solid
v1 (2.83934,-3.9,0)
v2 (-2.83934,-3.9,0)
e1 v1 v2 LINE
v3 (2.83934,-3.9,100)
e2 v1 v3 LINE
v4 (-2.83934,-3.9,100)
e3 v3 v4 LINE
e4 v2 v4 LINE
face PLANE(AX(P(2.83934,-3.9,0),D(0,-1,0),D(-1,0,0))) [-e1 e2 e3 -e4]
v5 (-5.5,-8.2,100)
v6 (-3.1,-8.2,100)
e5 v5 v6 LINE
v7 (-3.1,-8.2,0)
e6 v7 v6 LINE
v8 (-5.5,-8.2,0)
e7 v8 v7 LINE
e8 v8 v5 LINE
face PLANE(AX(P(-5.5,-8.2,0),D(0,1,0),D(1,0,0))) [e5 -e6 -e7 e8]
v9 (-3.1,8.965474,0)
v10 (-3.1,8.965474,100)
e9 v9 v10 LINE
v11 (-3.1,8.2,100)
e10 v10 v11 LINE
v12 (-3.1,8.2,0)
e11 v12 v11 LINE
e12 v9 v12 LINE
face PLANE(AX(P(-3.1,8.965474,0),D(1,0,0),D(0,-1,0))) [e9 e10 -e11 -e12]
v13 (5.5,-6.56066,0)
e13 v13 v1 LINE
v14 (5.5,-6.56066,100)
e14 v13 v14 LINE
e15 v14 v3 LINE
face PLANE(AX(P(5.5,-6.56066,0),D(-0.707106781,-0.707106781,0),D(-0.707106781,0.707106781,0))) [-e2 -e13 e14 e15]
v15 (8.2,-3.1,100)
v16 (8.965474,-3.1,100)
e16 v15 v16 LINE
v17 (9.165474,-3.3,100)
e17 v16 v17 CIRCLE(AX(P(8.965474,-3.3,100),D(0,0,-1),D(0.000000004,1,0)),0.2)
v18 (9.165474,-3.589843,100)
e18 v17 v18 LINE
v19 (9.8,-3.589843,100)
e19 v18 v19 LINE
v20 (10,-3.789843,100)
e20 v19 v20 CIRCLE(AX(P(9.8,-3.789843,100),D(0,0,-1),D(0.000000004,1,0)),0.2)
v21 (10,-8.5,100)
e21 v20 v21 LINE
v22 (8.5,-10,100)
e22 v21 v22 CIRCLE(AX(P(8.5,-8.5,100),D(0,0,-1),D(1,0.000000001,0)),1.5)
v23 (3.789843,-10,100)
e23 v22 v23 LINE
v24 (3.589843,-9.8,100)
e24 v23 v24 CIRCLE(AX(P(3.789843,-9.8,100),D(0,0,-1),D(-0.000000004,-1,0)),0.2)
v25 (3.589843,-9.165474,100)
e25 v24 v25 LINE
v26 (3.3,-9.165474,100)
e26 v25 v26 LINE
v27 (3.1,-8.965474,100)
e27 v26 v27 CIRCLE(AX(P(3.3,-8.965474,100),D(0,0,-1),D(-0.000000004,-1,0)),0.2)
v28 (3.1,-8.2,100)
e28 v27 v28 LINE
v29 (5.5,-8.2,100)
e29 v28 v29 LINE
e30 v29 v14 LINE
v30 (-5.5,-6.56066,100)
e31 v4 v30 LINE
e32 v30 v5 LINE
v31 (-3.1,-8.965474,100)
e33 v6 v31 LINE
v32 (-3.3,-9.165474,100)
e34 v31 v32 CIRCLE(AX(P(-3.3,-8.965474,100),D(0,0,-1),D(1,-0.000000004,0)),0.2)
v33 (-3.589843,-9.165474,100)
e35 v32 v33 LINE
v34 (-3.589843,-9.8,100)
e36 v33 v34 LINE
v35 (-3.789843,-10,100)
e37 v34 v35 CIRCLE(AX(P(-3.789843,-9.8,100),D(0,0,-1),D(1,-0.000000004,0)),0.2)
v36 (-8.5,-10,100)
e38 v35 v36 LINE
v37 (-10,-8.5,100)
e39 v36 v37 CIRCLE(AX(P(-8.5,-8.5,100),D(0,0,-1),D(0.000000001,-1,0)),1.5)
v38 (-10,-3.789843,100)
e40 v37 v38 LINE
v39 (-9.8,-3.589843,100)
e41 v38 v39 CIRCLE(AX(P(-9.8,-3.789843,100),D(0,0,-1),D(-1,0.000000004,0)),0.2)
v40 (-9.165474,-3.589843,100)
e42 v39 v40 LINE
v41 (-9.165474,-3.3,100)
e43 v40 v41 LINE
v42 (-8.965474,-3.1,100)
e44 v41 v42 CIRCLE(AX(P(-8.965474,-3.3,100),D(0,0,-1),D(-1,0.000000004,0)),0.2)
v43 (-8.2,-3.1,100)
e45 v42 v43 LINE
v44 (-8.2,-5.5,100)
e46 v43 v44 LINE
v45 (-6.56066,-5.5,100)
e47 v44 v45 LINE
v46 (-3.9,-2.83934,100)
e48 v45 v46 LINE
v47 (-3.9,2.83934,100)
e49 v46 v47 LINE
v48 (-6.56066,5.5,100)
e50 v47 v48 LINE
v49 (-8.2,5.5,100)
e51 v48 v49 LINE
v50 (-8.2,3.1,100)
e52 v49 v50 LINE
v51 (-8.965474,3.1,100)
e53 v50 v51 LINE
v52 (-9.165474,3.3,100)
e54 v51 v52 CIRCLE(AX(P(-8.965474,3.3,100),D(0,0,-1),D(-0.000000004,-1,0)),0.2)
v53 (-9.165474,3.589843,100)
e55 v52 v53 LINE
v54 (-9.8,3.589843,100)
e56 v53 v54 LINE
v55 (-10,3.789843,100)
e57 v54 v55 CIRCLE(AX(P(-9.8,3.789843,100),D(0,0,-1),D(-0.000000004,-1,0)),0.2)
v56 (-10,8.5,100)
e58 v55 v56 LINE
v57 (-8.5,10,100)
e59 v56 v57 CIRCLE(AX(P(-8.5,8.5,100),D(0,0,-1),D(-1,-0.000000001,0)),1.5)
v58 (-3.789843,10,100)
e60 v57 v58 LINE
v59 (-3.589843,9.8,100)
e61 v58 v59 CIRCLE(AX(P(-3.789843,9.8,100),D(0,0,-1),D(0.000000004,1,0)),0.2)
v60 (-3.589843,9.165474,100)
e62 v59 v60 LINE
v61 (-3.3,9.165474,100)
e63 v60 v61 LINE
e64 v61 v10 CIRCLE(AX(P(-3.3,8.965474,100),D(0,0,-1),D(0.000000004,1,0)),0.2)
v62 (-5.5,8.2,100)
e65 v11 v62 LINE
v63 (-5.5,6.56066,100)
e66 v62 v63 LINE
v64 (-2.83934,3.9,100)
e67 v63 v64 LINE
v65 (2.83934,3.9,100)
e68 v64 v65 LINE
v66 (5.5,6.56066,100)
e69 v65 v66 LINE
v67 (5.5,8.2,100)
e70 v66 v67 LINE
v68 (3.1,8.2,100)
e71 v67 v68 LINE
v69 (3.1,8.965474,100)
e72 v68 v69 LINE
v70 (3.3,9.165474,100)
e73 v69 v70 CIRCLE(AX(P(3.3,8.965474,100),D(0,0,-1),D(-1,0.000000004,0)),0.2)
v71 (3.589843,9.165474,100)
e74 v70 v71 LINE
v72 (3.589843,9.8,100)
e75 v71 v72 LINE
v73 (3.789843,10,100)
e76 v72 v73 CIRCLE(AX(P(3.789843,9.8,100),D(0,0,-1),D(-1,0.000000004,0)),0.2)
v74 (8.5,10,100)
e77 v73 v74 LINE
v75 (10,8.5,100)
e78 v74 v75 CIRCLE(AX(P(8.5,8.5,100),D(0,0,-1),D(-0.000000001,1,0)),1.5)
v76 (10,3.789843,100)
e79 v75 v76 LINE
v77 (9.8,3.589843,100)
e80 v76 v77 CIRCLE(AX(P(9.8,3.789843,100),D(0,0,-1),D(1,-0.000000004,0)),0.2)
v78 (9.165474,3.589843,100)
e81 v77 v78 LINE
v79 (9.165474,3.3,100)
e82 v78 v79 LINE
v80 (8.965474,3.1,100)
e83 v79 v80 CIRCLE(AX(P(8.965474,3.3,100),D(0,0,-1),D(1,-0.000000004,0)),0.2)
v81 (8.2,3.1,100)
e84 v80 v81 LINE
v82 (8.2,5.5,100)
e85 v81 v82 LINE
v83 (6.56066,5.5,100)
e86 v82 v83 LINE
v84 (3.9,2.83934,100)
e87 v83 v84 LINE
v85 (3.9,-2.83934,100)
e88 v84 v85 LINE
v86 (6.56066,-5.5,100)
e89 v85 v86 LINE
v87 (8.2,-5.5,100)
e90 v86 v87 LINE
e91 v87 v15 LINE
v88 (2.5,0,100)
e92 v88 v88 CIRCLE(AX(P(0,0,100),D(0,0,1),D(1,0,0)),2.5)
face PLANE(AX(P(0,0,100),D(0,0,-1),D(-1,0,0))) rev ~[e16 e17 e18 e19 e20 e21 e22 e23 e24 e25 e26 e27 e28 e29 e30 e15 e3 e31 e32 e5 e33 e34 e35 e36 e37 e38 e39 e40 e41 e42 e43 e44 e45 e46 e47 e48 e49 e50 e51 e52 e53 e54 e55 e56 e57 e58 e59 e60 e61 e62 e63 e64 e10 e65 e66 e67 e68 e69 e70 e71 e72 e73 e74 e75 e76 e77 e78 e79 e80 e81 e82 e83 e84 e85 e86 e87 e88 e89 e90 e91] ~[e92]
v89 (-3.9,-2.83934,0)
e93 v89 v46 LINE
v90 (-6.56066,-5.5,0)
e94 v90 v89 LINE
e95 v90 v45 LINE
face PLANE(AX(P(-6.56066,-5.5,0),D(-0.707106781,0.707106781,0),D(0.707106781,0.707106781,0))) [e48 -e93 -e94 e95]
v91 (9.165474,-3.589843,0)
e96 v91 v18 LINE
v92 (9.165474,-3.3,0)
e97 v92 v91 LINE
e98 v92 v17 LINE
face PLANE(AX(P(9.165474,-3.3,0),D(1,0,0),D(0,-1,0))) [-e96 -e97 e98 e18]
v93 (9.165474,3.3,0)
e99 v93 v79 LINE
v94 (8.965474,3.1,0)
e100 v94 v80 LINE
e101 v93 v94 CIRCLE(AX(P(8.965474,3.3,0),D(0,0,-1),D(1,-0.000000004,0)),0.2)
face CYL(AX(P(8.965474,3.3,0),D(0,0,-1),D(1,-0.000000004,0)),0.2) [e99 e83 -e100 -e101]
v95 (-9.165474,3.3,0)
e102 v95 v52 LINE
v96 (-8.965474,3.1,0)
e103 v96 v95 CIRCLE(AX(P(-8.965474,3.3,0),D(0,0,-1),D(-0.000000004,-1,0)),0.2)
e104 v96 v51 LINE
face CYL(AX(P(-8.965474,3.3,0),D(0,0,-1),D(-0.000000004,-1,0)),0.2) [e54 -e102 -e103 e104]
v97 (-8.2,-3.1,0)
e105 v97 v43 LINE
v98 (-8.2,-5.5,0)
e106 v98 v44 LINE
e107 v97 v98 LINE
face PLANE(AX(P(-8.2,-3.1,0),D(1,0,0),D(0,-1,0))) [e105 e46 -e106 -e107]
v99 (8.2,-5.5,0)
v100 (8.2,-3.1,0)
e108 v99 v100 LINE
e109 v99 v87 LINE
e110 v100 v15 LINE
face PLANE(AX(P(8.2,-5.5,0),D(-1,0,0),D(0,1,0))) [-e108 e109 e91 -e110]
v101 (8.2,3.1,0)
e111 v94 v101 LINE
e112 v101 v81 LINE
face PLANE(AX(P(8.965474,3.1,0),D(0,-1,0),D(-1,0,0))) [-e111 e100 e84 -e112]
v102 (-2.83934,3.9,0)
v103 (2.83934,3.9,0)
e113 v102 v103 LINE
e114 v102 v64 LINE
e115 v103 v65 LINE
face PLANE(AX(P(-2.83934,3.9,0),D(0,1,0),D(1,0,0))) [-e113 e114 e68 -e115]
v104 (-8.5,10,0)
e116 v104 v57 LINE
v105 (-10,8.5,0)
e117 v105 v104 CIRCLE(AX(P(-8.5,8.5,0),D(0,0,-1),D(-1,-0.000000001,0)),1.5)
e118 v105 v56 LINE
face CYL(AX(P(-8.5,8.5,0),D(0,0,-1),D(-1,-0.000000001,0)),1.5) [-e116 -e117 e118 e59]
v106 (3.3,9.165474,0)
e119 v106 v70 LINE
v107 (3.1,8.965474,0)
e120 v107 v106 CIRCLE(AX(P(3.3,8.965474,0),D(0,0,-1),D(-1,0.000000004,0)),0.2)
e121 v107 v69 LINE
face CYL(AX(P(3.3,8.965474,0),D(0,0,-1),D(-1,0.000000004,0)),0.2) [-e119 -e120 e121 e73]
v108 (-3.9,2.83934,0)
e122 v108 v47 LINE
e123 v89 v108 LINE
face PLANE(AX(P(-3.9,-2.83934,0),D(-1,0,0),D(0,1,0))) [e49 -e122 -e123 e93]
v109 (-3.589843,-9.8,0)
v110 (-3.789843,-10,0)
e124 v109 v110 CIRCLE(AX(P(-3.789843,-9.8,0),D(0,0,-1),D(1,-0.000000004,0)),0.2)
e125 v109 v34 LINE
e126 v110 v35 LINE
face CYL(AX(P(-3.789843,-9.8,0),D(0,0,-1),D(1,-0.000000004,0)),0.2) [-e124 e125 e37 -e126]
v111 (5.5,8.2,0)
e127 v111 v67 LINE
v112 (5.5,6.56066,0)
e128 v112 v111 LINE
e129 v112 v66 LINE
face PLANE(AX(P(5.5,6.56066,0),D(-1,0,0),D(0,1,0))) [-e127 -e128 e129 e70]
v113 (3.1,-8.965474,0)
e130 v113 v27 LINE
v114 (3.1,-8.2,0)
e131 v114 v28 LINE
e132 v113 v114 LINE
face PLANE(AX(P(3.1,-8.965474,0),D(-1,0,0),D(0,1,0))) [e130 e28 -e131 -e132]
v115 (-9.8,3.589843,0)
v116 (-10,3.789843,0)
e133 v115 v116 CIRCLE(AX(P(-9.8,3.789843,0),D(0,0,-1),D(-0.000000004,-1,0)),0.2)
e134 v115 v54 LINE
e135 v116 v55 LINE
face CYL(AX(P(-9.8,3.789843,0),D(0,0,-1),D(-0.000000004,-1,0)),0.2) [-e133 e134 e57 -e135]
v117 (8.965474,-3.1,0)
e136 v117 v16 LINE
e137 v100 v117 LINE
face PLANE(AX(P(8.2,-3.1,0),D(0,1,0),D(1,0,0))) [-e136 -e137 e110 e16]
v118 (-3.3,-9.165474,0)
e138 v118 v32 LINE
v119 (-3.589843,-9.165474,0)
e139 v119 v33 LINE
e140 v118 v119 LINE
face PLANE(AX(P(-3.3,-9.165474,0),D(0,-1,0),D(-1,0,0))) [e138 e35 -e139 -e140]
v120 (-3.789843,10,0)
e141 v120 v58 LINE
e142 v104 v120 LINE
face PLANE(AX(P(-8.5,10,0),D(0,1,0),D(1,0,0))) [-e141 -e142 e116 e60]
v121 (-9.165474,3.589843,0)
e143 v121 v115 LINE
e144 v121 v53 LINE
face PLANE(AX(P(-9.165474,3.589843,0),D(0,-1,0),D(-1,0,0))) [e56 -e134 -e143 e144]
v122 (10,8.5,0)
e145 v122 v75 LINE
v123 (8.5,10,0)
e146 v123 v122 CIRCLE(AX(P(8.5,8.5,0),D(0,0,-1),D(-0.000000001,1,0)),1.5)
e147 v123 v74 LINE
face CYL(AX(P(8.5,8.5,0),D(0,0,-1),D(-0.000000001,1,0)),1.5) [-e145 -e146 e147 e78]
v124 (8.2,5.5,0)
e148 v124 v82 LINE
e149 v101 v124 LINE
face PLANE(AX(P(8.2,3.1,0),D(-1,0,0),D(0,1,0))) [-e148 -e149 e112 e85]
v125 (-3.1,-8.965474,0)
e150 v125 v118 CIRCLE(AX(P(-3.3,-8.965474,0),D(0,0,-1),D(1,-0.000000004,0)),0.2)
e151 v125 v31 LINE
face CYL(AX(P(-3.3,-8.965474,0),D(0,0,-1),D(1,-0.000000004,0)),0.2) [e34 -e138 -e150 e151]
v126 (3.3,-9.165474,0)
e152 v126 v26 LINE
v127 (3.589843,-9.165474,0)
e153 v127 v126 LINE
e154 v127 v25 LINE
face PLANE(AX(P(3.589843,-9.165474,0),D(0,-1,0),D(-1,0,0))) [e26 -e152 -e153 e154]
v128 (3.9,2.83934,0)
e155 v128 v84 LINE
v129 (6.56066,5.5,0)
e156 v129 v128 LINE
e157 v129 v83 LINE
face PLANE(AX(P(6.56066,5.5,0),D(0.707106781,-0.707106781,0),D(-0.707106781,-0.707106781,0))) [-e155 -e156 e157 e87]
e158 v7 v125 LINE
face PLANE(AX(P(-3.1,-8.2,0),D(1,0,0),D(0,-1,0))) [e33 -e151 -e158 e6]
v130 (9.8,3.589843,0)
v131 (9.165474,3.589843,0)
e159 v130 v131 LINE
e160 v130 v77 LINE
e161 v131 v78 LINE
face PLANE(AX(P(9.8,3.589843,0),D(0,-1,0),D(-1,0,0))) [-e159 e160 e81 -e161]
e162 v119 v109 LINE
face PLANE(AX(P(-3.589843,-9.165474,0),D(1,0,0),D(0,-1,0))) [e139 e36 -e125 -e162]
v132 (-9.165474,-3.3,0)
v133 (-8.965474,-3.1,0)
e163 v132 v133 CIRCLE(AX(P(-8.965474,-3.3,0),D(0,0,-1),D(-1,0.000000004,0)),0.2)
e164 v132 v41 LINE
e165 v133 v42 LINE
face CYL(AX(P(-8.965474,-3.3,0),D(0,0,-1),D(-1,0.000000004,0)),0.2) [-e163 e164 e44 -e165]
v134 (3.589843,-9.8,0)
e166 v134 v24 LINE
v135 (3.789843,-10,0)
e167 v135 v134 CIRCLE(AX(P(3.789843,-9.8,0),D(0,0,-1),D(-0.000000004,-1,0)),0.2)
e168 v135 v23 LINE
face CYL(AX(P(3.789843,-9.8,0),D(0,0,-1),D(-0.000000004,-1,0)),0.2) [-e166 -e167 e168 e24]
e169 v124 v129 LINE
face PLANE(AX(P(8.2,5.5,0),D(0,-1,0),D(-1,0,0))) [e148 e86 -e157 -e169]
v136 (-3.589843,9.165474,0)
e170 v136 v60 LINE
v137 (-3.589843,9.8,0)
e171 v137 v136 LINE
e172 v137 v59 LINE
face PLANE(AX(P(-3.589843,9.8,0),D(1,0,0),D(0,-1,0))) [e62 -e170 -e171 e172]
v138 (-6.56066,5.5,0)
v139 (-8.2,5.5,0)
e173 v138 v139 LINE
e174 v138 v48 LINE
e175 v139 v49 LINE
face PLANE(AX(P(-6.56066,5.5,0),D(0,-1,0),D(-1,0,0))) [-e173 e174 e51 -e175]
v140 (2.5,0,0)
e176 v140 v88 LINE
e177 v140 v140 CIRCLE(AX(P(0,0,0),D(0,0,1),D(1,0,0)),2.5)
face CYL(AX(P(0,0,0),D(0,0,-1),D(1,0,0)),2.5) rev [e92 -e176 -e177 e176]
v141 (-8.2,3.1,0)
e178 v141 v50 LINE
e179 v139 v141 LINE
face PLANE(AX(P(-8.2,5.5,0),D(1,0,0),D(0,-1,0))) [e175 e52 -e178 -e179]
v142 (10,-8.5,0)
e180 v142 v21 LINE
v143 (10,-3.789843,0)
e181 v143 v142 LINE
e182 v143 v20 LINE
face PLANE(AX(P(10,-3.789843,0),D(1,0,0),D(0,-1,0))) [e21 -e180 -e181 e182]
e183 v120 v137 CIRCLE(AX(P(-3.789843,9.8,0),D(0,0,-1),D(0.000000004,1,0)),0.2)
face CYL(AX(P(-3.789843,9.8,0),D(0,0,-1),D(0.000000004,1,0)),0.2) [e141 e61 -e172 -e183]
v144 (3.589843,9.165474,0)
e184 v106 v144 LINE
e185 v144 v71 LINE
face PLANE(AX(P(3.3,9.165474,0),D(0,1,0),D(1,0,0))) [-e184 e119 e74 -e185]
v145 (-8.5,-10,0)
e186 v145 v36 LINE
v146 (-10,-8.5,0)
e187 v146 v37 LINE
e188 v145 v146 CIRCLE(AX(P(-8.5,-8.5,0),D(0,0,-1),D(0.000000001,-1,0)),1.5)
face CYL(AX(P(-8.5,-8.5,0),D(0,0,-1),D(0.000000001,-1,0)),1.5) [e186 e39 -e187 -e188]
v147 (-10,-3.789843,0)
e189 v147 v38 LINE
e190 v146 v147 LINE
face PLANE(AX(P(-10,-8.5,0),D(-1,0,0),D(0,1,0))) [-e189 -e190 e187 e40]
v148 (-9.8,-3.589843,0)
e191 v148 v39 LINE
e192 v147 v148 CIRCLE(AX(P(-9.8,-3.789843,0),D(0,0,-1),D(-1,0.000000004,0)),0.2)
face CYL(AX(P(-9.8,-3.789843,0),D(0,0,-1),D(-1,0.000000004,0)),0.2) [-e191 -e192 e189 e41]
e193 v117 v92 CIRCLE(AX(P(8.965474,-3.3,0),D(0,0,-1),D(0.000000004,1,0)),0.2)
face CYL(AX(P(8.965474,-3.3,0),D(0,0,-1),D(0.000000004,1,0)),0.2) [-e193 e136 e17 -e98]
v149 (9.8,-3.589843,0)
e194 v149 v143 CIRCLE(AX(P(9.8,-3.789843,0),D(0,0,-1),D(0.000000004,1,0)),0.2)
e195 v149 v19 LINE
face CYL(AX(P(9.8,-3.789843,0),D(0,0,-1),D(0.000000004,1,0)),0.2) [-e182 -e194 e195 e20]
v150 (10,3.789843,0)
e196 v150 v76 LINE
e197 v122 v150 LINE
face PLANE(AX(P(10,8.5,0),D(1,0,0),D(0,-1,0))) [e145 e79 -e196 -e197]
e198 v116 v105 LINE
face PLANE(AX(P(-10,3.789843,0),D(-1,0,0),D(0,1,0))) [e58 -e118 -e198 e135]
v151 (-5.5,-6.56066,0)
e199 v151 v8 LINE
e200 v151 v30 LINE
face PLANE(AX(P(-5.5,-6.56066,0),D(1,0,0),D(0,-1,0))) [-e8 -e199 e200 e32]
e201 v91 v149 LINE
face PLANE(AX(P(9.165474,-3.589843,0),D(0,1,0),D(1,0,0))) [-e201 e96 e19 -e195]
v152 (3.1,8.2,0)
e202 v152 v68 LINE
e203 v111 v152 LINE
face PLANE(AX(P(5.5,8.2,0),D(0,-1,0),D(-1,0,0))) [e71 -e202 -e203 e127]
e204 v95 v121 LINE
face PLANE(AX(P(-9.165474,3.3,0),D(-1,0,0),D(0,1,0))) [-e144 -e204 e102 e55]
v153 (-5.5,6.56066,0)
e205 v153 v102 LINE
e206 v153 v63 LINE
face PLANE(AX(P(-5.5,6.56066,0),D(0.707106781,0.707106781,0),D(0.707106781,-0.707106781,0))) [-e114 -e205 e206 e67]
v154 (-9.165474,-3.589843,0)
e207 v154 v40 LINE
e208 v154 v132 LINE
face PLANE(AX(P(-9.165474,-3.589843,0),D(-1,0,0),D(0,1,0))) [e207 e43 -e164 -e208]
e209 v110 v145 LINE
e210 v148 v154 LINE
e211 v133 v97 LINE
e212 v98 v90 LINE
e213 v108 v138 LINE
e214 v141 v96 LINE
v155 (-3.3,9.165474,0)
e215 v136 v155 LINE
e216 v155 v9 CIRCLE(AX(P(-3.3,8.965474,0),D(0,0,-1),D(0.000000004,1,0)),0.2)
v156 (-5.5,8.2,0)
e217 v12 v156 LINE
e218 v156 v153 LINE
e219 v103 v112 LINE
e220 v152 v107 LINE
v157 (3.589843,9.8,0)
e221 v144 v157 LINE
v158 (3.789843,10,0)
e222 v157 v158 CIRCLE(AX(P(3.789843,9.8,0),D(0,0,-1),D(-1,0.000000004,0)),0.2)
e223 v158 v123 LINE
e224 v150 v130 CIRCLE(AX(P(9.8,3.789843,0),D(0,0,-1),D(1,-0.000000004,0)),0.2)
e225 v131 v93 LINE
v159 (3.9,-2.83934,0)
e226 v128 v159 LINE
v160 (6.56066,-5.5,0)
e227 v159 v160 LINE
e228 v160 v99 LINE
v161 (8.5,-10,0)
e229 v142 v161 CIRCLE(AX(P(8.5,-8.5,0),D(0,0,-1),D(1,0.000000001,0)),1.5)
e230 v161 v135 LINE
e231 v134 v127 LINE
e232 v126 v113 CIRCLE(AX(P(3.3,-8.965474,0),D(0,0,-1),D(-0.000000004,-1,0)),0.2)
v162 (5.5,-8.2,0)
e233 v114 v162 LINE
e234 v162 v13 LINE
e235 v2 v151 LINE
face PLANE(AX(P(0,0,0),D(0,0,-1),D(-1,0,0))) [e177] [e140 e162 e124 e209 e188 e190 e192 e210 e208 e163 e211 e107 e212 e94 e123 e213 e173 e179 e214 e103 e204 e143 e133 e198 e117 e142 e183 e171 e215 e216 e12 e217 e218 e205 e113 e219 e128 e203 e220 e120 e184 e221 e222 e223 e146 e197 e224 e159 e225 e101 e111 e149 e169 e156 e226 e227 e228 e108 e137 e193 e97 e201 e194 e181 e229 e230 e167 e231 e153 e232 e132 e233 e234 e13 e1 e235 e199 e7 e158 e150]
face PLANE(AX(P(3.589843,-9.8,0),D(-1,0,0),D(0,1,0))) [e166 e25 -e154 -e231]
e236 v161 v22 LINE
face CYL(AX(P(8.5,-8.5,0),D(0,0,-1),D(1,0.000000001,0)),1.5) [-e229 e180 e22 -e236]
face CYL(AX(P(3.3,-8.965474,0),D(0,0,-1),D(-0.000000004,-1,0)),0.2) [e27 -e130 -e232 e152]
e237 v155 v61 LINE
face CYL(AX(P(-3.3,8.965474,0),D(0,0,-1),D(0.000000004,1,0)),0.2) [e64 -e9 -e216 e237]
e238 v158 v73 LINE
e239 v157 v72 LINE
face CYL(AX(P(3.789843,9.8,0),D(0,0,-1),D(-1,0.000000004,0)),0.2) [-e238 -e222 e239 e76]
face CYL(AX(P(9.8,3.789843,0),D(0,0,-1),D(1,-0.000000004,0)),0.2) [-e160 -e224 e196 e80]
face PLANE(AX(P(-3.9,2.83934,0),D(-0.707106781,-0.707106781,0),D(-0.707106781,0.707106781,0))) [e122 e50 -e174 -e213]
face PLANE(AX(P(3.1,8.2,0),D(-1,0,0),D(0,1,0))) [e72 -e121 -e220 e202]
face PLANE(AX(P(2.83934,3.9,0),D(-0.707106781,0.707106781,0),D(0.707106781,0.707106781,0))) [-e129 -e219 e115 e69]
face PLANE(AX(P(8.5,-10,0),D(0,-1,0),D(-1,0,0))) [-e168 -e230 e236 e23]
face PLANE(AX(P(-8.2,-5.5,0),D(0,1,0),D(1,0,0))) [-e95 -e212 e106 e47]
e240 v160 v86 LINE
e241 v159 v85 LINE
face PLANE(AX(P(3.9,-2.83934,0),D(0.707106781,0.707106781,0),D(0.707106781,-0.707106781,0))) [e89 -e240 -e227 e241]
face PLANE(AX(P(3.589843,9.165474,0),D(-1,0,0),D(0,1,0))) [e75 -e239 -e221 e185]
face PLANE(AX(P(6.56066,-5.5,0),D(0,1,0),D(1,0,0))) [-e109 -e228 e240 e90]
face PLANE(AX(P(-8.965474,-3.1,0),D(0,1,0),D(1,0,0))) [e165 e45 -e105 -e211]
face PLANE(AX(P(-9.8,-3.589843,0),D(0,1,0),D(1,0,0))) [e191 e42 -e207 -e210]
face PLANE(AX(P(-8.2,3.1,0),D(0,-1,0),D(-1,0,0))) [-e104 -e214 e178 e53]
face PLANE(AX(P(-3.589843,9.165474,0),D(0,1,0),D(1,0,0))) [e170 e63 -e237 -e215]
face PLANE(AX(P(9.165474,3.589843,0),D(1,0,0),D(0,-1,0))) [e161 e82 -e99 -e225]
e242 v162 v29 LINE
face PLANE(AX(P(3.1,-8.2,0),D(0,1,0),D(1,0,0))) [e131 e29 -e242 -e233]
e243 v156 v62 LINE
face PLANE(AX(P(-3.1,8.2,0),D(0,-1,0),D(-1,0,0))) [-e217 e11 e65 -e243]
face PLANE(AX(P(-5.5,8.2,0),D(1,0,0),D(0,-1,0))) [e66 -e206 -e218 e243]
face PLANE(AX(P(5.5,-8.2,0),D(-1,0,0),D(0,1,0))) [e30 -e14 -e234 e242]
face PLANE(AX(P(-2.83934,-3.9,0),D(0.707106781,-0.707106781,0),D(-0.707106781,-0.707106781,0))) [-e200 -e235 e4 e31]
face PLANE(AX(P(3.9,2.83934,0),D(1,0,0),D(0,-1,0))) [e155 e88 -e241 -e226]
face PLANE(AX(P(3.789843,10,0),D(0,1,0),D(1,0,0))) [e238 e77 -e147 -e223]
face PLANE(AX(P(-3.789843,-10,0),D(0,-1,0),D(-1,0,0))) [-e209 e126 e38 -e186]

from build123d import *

# Parameters (mm, degrees)
SKETCH_1_R      = 2.5
EXTRUDE_1_DEPTH = 100


with BuildPart() as part:
    # 草图1 → 凸台-拉伸1 (new body)
    with BuildSketch(Plane.XY):
        with BuildLine():
            Line((2.839339828, 3.9), (5.5, 6.560660172))
            Line((5.5, 6.560660172), (5.5, 8.2))
            Line((5.5, 8.2), (3.1, 8.2))
            Line((3.1, 8.2), (3.1, 8.965473865))
            ThreePointArc((3.1, 8.965473865), (3.158578644, 9.106895221), (3.3, 9.165473865))
            Line((3.3, 9.165473865), (3.589843476, 9.165473865))
            Line((3.589843476, 9.165473865), (3.589843476, 9.8))
            ThreePointArc((3.589843476, 9.8), (3.64842212, 9.941421356), (3.789843476, 10))
            Line((3.789843476, 10), (8.5, 10))
            ThreePointArc((8.5, 10), (9.560660172, 9.560660172), (10, 8.5))
            Line((10, 8.5), (10, 3.789843476))
            ThreePointArc((10, 3.789843476), (9.941421356, 3.64842212), (9.8, 3.589843476))
            Line((9.8, 3.589843476), (9.165473865, 3.589843476))
            Line((9.165473865, 3.589843476), (9.165473865, 3.3))
            ThreePointArc((9.165473865, 3.3), (9.106895221, 3.158578644), (8.965473865, 3.1))
            Line((8.965473865, 3.1), (8.2, 3.1))
            Line((8.2, 3.1), (8.2, 5.5))
            Line((8.2, 5.5), (6.560660172, 5.5))
            Line((6.560660172, 5.5), (3.9, 2.839339828))
            Line((3.9, 2.839339828), (3.9, -2.839339828))
            Line((3.9, -2.839339828), (6.560660172, -5.5))
            Line((6.560660172, -5.5), (8.2, -5.5))
            Line((8.2, -5.5), (8.2, -3.1))
            Line((8.2, -3.1), (8.965473865, -3.1))
            ThreePointArc((8.965473865, -3.1), (9.106895221, -3.158578644), (9.165473865, -3.3))
            Line((9.165473865, -3.3), (9.165473865, -3.589843476))
            Line((9.165473865, -3.589843476), (9.8, -3.589843476))
            ThreePointArc((9.8, -3.589843476), (9.941421356, -3.64842212), (10, -3.789843476))
            Line((10, -3.789843476), (10, -8.5))
            ThreePointArc((10, -8.5), (9.560660172, -9.560660172), (8.5, -10))
            Line((8.5, -10), (3.789843476, -10))
            ThreePointArc((3.789843476, -10), (3.64842212, -9.941421356), (3.589843476, -9.8))
            Line((3.589843476, -9.8), (3.589843476, -9.165473865))
            Line((3.589843476, -9.165473865), (3.3, -9.165473865))
            ThreePointArc((3.3, -9.165473865), (3.158578644, -9.106895221), (3.1, -8.965473865))
            Line((3.1, -8.965473865), (3.1, -8.2))
            Line((3.1, -8.2), (5.5, -8.2))
            Line((5.5, -8.2), (5.5, -6.560660172))
            Line((5.5, -6.560660172), (2.839339828, -3.9))
            Line((2.839339828, -3.9), (-2.839339828, -3.9))
            Line((-2.839339828, -3.9), (-5.5, -6.560660172))
            Line((-5.5, -6.560660172), (-5.5, -8.2))
            Line((-5.5, -8.2), (-3.1, -8.2))
            Line((-3.1, -8.2), (-3.1, -8.965473865))
            ThreePointArc((-3.1, -8.965473865), (-3.158578644, -9.106895221), (-3.3, -9.165473865))
            Line((-3.3, -9.165473865), (-3.589843476, -9.165473865))
            Line((-3.589843476, -9.165473865), (-3.589843476, -9.8))
            ThreePointArc((-3.589843476, -9.8), (-3.64842212, -9.941421356), (-3.789843476, -10))
            Line((-3.789843476, -10), (-8.5, -10))
            ThreePointArc((-8.5, -10), (-9.560660172, -9.560660172), (-10, -8.5))
            Line((-10, -8.5), (-10, -3.789843476))
            ThreePointArc((-10, -3.789843476), (-9.941421356, -3.64842212), (-9.8, -3.589843476))
            Line((-9.8, -3.589843476), (-9.165473865, -3.589843476))
            Line((-9.165473865, -3.589843476), (-9.165473865, -3.3))
            ThreePointArc((-9.165473865, -3.3), (-9.106895221, -3.158578644), (-8.965473865, -3.1))
            Line((-8.965473865, -3.1), (-8.2, -3.1))
            Line((-8.2, -3.1), (-8.2, -5.5))
            Line((-8.2, -5.5), (-6.560660172, -5.5))
            Line((-6.560660172, -5.5), (-3.9, -2.839339828))
            Line((-3.9, -2.839339828), (-3.9, 2.839339828))
            Line((-3.9, 2.839339828), (-6.560660172, 5.5))
            Line((-6.560660172, 5.5), (-8.2, 5.5))
            Line((-8.2, 5.5), (-8.2, 3.1))
            Line((-8.2, 3.1), (-8.965473865, 3.1))
            ThreePointArc((-8.965473865, 3.1), (-9.106895221, 3.158578644), (-9.165473865, 3.3))
            Line((-9.165473865, 3.3), (-9.165473865, 3.589843476))
            Line((-9.165473865, 3.589843476), (-9.8, 3.589843476))
            ThreePointArc((-9.8, 3.589843476), (-9.941421356, 3.64842212), (-10, 3.789843476))
            Line((-10, 3.789843476), (-10, 8.5))
            ThreePointArc((-10, 8.5), (-9.560660172, 9.560660172), (-8.5, 10))
            Line((-8.5, 10), (-3.789843476, 10))
            ThreePointArc((-3.789843476, 10), (-3.64842212, 9.941421356), (-3.589843476, 9.8))
            Line((-3.589843476, 9.8), (-3.589843476, 9.165473865))
            Line((-3.589843476, 9.165473865), (-3.3, 9.165473865))
            ThreePointArc((-3.3, 9.165473865), (-3.158578644, 9.106895221), (-3.1, 8.965473865))
            Line((-3.1, 8.965473865), (-3.1, 8.2))
            Line((-3.1, 8.2), (-5.5, 8.2))
            Line((-5.5, 8.2), (-5.5, 6.560660172))
            Line((-5.5, 6.560660172), (-2.839339828, 3.9))
            Line((-2.839339828, 3.9), (2.839339828, 3.9))
        make_face()
        Circle(SKETCH_1_R, mode=Mode.SUBTRACT)
    extrude(amount=EXTRUDE_1_DEPTH)


solid = part.part
